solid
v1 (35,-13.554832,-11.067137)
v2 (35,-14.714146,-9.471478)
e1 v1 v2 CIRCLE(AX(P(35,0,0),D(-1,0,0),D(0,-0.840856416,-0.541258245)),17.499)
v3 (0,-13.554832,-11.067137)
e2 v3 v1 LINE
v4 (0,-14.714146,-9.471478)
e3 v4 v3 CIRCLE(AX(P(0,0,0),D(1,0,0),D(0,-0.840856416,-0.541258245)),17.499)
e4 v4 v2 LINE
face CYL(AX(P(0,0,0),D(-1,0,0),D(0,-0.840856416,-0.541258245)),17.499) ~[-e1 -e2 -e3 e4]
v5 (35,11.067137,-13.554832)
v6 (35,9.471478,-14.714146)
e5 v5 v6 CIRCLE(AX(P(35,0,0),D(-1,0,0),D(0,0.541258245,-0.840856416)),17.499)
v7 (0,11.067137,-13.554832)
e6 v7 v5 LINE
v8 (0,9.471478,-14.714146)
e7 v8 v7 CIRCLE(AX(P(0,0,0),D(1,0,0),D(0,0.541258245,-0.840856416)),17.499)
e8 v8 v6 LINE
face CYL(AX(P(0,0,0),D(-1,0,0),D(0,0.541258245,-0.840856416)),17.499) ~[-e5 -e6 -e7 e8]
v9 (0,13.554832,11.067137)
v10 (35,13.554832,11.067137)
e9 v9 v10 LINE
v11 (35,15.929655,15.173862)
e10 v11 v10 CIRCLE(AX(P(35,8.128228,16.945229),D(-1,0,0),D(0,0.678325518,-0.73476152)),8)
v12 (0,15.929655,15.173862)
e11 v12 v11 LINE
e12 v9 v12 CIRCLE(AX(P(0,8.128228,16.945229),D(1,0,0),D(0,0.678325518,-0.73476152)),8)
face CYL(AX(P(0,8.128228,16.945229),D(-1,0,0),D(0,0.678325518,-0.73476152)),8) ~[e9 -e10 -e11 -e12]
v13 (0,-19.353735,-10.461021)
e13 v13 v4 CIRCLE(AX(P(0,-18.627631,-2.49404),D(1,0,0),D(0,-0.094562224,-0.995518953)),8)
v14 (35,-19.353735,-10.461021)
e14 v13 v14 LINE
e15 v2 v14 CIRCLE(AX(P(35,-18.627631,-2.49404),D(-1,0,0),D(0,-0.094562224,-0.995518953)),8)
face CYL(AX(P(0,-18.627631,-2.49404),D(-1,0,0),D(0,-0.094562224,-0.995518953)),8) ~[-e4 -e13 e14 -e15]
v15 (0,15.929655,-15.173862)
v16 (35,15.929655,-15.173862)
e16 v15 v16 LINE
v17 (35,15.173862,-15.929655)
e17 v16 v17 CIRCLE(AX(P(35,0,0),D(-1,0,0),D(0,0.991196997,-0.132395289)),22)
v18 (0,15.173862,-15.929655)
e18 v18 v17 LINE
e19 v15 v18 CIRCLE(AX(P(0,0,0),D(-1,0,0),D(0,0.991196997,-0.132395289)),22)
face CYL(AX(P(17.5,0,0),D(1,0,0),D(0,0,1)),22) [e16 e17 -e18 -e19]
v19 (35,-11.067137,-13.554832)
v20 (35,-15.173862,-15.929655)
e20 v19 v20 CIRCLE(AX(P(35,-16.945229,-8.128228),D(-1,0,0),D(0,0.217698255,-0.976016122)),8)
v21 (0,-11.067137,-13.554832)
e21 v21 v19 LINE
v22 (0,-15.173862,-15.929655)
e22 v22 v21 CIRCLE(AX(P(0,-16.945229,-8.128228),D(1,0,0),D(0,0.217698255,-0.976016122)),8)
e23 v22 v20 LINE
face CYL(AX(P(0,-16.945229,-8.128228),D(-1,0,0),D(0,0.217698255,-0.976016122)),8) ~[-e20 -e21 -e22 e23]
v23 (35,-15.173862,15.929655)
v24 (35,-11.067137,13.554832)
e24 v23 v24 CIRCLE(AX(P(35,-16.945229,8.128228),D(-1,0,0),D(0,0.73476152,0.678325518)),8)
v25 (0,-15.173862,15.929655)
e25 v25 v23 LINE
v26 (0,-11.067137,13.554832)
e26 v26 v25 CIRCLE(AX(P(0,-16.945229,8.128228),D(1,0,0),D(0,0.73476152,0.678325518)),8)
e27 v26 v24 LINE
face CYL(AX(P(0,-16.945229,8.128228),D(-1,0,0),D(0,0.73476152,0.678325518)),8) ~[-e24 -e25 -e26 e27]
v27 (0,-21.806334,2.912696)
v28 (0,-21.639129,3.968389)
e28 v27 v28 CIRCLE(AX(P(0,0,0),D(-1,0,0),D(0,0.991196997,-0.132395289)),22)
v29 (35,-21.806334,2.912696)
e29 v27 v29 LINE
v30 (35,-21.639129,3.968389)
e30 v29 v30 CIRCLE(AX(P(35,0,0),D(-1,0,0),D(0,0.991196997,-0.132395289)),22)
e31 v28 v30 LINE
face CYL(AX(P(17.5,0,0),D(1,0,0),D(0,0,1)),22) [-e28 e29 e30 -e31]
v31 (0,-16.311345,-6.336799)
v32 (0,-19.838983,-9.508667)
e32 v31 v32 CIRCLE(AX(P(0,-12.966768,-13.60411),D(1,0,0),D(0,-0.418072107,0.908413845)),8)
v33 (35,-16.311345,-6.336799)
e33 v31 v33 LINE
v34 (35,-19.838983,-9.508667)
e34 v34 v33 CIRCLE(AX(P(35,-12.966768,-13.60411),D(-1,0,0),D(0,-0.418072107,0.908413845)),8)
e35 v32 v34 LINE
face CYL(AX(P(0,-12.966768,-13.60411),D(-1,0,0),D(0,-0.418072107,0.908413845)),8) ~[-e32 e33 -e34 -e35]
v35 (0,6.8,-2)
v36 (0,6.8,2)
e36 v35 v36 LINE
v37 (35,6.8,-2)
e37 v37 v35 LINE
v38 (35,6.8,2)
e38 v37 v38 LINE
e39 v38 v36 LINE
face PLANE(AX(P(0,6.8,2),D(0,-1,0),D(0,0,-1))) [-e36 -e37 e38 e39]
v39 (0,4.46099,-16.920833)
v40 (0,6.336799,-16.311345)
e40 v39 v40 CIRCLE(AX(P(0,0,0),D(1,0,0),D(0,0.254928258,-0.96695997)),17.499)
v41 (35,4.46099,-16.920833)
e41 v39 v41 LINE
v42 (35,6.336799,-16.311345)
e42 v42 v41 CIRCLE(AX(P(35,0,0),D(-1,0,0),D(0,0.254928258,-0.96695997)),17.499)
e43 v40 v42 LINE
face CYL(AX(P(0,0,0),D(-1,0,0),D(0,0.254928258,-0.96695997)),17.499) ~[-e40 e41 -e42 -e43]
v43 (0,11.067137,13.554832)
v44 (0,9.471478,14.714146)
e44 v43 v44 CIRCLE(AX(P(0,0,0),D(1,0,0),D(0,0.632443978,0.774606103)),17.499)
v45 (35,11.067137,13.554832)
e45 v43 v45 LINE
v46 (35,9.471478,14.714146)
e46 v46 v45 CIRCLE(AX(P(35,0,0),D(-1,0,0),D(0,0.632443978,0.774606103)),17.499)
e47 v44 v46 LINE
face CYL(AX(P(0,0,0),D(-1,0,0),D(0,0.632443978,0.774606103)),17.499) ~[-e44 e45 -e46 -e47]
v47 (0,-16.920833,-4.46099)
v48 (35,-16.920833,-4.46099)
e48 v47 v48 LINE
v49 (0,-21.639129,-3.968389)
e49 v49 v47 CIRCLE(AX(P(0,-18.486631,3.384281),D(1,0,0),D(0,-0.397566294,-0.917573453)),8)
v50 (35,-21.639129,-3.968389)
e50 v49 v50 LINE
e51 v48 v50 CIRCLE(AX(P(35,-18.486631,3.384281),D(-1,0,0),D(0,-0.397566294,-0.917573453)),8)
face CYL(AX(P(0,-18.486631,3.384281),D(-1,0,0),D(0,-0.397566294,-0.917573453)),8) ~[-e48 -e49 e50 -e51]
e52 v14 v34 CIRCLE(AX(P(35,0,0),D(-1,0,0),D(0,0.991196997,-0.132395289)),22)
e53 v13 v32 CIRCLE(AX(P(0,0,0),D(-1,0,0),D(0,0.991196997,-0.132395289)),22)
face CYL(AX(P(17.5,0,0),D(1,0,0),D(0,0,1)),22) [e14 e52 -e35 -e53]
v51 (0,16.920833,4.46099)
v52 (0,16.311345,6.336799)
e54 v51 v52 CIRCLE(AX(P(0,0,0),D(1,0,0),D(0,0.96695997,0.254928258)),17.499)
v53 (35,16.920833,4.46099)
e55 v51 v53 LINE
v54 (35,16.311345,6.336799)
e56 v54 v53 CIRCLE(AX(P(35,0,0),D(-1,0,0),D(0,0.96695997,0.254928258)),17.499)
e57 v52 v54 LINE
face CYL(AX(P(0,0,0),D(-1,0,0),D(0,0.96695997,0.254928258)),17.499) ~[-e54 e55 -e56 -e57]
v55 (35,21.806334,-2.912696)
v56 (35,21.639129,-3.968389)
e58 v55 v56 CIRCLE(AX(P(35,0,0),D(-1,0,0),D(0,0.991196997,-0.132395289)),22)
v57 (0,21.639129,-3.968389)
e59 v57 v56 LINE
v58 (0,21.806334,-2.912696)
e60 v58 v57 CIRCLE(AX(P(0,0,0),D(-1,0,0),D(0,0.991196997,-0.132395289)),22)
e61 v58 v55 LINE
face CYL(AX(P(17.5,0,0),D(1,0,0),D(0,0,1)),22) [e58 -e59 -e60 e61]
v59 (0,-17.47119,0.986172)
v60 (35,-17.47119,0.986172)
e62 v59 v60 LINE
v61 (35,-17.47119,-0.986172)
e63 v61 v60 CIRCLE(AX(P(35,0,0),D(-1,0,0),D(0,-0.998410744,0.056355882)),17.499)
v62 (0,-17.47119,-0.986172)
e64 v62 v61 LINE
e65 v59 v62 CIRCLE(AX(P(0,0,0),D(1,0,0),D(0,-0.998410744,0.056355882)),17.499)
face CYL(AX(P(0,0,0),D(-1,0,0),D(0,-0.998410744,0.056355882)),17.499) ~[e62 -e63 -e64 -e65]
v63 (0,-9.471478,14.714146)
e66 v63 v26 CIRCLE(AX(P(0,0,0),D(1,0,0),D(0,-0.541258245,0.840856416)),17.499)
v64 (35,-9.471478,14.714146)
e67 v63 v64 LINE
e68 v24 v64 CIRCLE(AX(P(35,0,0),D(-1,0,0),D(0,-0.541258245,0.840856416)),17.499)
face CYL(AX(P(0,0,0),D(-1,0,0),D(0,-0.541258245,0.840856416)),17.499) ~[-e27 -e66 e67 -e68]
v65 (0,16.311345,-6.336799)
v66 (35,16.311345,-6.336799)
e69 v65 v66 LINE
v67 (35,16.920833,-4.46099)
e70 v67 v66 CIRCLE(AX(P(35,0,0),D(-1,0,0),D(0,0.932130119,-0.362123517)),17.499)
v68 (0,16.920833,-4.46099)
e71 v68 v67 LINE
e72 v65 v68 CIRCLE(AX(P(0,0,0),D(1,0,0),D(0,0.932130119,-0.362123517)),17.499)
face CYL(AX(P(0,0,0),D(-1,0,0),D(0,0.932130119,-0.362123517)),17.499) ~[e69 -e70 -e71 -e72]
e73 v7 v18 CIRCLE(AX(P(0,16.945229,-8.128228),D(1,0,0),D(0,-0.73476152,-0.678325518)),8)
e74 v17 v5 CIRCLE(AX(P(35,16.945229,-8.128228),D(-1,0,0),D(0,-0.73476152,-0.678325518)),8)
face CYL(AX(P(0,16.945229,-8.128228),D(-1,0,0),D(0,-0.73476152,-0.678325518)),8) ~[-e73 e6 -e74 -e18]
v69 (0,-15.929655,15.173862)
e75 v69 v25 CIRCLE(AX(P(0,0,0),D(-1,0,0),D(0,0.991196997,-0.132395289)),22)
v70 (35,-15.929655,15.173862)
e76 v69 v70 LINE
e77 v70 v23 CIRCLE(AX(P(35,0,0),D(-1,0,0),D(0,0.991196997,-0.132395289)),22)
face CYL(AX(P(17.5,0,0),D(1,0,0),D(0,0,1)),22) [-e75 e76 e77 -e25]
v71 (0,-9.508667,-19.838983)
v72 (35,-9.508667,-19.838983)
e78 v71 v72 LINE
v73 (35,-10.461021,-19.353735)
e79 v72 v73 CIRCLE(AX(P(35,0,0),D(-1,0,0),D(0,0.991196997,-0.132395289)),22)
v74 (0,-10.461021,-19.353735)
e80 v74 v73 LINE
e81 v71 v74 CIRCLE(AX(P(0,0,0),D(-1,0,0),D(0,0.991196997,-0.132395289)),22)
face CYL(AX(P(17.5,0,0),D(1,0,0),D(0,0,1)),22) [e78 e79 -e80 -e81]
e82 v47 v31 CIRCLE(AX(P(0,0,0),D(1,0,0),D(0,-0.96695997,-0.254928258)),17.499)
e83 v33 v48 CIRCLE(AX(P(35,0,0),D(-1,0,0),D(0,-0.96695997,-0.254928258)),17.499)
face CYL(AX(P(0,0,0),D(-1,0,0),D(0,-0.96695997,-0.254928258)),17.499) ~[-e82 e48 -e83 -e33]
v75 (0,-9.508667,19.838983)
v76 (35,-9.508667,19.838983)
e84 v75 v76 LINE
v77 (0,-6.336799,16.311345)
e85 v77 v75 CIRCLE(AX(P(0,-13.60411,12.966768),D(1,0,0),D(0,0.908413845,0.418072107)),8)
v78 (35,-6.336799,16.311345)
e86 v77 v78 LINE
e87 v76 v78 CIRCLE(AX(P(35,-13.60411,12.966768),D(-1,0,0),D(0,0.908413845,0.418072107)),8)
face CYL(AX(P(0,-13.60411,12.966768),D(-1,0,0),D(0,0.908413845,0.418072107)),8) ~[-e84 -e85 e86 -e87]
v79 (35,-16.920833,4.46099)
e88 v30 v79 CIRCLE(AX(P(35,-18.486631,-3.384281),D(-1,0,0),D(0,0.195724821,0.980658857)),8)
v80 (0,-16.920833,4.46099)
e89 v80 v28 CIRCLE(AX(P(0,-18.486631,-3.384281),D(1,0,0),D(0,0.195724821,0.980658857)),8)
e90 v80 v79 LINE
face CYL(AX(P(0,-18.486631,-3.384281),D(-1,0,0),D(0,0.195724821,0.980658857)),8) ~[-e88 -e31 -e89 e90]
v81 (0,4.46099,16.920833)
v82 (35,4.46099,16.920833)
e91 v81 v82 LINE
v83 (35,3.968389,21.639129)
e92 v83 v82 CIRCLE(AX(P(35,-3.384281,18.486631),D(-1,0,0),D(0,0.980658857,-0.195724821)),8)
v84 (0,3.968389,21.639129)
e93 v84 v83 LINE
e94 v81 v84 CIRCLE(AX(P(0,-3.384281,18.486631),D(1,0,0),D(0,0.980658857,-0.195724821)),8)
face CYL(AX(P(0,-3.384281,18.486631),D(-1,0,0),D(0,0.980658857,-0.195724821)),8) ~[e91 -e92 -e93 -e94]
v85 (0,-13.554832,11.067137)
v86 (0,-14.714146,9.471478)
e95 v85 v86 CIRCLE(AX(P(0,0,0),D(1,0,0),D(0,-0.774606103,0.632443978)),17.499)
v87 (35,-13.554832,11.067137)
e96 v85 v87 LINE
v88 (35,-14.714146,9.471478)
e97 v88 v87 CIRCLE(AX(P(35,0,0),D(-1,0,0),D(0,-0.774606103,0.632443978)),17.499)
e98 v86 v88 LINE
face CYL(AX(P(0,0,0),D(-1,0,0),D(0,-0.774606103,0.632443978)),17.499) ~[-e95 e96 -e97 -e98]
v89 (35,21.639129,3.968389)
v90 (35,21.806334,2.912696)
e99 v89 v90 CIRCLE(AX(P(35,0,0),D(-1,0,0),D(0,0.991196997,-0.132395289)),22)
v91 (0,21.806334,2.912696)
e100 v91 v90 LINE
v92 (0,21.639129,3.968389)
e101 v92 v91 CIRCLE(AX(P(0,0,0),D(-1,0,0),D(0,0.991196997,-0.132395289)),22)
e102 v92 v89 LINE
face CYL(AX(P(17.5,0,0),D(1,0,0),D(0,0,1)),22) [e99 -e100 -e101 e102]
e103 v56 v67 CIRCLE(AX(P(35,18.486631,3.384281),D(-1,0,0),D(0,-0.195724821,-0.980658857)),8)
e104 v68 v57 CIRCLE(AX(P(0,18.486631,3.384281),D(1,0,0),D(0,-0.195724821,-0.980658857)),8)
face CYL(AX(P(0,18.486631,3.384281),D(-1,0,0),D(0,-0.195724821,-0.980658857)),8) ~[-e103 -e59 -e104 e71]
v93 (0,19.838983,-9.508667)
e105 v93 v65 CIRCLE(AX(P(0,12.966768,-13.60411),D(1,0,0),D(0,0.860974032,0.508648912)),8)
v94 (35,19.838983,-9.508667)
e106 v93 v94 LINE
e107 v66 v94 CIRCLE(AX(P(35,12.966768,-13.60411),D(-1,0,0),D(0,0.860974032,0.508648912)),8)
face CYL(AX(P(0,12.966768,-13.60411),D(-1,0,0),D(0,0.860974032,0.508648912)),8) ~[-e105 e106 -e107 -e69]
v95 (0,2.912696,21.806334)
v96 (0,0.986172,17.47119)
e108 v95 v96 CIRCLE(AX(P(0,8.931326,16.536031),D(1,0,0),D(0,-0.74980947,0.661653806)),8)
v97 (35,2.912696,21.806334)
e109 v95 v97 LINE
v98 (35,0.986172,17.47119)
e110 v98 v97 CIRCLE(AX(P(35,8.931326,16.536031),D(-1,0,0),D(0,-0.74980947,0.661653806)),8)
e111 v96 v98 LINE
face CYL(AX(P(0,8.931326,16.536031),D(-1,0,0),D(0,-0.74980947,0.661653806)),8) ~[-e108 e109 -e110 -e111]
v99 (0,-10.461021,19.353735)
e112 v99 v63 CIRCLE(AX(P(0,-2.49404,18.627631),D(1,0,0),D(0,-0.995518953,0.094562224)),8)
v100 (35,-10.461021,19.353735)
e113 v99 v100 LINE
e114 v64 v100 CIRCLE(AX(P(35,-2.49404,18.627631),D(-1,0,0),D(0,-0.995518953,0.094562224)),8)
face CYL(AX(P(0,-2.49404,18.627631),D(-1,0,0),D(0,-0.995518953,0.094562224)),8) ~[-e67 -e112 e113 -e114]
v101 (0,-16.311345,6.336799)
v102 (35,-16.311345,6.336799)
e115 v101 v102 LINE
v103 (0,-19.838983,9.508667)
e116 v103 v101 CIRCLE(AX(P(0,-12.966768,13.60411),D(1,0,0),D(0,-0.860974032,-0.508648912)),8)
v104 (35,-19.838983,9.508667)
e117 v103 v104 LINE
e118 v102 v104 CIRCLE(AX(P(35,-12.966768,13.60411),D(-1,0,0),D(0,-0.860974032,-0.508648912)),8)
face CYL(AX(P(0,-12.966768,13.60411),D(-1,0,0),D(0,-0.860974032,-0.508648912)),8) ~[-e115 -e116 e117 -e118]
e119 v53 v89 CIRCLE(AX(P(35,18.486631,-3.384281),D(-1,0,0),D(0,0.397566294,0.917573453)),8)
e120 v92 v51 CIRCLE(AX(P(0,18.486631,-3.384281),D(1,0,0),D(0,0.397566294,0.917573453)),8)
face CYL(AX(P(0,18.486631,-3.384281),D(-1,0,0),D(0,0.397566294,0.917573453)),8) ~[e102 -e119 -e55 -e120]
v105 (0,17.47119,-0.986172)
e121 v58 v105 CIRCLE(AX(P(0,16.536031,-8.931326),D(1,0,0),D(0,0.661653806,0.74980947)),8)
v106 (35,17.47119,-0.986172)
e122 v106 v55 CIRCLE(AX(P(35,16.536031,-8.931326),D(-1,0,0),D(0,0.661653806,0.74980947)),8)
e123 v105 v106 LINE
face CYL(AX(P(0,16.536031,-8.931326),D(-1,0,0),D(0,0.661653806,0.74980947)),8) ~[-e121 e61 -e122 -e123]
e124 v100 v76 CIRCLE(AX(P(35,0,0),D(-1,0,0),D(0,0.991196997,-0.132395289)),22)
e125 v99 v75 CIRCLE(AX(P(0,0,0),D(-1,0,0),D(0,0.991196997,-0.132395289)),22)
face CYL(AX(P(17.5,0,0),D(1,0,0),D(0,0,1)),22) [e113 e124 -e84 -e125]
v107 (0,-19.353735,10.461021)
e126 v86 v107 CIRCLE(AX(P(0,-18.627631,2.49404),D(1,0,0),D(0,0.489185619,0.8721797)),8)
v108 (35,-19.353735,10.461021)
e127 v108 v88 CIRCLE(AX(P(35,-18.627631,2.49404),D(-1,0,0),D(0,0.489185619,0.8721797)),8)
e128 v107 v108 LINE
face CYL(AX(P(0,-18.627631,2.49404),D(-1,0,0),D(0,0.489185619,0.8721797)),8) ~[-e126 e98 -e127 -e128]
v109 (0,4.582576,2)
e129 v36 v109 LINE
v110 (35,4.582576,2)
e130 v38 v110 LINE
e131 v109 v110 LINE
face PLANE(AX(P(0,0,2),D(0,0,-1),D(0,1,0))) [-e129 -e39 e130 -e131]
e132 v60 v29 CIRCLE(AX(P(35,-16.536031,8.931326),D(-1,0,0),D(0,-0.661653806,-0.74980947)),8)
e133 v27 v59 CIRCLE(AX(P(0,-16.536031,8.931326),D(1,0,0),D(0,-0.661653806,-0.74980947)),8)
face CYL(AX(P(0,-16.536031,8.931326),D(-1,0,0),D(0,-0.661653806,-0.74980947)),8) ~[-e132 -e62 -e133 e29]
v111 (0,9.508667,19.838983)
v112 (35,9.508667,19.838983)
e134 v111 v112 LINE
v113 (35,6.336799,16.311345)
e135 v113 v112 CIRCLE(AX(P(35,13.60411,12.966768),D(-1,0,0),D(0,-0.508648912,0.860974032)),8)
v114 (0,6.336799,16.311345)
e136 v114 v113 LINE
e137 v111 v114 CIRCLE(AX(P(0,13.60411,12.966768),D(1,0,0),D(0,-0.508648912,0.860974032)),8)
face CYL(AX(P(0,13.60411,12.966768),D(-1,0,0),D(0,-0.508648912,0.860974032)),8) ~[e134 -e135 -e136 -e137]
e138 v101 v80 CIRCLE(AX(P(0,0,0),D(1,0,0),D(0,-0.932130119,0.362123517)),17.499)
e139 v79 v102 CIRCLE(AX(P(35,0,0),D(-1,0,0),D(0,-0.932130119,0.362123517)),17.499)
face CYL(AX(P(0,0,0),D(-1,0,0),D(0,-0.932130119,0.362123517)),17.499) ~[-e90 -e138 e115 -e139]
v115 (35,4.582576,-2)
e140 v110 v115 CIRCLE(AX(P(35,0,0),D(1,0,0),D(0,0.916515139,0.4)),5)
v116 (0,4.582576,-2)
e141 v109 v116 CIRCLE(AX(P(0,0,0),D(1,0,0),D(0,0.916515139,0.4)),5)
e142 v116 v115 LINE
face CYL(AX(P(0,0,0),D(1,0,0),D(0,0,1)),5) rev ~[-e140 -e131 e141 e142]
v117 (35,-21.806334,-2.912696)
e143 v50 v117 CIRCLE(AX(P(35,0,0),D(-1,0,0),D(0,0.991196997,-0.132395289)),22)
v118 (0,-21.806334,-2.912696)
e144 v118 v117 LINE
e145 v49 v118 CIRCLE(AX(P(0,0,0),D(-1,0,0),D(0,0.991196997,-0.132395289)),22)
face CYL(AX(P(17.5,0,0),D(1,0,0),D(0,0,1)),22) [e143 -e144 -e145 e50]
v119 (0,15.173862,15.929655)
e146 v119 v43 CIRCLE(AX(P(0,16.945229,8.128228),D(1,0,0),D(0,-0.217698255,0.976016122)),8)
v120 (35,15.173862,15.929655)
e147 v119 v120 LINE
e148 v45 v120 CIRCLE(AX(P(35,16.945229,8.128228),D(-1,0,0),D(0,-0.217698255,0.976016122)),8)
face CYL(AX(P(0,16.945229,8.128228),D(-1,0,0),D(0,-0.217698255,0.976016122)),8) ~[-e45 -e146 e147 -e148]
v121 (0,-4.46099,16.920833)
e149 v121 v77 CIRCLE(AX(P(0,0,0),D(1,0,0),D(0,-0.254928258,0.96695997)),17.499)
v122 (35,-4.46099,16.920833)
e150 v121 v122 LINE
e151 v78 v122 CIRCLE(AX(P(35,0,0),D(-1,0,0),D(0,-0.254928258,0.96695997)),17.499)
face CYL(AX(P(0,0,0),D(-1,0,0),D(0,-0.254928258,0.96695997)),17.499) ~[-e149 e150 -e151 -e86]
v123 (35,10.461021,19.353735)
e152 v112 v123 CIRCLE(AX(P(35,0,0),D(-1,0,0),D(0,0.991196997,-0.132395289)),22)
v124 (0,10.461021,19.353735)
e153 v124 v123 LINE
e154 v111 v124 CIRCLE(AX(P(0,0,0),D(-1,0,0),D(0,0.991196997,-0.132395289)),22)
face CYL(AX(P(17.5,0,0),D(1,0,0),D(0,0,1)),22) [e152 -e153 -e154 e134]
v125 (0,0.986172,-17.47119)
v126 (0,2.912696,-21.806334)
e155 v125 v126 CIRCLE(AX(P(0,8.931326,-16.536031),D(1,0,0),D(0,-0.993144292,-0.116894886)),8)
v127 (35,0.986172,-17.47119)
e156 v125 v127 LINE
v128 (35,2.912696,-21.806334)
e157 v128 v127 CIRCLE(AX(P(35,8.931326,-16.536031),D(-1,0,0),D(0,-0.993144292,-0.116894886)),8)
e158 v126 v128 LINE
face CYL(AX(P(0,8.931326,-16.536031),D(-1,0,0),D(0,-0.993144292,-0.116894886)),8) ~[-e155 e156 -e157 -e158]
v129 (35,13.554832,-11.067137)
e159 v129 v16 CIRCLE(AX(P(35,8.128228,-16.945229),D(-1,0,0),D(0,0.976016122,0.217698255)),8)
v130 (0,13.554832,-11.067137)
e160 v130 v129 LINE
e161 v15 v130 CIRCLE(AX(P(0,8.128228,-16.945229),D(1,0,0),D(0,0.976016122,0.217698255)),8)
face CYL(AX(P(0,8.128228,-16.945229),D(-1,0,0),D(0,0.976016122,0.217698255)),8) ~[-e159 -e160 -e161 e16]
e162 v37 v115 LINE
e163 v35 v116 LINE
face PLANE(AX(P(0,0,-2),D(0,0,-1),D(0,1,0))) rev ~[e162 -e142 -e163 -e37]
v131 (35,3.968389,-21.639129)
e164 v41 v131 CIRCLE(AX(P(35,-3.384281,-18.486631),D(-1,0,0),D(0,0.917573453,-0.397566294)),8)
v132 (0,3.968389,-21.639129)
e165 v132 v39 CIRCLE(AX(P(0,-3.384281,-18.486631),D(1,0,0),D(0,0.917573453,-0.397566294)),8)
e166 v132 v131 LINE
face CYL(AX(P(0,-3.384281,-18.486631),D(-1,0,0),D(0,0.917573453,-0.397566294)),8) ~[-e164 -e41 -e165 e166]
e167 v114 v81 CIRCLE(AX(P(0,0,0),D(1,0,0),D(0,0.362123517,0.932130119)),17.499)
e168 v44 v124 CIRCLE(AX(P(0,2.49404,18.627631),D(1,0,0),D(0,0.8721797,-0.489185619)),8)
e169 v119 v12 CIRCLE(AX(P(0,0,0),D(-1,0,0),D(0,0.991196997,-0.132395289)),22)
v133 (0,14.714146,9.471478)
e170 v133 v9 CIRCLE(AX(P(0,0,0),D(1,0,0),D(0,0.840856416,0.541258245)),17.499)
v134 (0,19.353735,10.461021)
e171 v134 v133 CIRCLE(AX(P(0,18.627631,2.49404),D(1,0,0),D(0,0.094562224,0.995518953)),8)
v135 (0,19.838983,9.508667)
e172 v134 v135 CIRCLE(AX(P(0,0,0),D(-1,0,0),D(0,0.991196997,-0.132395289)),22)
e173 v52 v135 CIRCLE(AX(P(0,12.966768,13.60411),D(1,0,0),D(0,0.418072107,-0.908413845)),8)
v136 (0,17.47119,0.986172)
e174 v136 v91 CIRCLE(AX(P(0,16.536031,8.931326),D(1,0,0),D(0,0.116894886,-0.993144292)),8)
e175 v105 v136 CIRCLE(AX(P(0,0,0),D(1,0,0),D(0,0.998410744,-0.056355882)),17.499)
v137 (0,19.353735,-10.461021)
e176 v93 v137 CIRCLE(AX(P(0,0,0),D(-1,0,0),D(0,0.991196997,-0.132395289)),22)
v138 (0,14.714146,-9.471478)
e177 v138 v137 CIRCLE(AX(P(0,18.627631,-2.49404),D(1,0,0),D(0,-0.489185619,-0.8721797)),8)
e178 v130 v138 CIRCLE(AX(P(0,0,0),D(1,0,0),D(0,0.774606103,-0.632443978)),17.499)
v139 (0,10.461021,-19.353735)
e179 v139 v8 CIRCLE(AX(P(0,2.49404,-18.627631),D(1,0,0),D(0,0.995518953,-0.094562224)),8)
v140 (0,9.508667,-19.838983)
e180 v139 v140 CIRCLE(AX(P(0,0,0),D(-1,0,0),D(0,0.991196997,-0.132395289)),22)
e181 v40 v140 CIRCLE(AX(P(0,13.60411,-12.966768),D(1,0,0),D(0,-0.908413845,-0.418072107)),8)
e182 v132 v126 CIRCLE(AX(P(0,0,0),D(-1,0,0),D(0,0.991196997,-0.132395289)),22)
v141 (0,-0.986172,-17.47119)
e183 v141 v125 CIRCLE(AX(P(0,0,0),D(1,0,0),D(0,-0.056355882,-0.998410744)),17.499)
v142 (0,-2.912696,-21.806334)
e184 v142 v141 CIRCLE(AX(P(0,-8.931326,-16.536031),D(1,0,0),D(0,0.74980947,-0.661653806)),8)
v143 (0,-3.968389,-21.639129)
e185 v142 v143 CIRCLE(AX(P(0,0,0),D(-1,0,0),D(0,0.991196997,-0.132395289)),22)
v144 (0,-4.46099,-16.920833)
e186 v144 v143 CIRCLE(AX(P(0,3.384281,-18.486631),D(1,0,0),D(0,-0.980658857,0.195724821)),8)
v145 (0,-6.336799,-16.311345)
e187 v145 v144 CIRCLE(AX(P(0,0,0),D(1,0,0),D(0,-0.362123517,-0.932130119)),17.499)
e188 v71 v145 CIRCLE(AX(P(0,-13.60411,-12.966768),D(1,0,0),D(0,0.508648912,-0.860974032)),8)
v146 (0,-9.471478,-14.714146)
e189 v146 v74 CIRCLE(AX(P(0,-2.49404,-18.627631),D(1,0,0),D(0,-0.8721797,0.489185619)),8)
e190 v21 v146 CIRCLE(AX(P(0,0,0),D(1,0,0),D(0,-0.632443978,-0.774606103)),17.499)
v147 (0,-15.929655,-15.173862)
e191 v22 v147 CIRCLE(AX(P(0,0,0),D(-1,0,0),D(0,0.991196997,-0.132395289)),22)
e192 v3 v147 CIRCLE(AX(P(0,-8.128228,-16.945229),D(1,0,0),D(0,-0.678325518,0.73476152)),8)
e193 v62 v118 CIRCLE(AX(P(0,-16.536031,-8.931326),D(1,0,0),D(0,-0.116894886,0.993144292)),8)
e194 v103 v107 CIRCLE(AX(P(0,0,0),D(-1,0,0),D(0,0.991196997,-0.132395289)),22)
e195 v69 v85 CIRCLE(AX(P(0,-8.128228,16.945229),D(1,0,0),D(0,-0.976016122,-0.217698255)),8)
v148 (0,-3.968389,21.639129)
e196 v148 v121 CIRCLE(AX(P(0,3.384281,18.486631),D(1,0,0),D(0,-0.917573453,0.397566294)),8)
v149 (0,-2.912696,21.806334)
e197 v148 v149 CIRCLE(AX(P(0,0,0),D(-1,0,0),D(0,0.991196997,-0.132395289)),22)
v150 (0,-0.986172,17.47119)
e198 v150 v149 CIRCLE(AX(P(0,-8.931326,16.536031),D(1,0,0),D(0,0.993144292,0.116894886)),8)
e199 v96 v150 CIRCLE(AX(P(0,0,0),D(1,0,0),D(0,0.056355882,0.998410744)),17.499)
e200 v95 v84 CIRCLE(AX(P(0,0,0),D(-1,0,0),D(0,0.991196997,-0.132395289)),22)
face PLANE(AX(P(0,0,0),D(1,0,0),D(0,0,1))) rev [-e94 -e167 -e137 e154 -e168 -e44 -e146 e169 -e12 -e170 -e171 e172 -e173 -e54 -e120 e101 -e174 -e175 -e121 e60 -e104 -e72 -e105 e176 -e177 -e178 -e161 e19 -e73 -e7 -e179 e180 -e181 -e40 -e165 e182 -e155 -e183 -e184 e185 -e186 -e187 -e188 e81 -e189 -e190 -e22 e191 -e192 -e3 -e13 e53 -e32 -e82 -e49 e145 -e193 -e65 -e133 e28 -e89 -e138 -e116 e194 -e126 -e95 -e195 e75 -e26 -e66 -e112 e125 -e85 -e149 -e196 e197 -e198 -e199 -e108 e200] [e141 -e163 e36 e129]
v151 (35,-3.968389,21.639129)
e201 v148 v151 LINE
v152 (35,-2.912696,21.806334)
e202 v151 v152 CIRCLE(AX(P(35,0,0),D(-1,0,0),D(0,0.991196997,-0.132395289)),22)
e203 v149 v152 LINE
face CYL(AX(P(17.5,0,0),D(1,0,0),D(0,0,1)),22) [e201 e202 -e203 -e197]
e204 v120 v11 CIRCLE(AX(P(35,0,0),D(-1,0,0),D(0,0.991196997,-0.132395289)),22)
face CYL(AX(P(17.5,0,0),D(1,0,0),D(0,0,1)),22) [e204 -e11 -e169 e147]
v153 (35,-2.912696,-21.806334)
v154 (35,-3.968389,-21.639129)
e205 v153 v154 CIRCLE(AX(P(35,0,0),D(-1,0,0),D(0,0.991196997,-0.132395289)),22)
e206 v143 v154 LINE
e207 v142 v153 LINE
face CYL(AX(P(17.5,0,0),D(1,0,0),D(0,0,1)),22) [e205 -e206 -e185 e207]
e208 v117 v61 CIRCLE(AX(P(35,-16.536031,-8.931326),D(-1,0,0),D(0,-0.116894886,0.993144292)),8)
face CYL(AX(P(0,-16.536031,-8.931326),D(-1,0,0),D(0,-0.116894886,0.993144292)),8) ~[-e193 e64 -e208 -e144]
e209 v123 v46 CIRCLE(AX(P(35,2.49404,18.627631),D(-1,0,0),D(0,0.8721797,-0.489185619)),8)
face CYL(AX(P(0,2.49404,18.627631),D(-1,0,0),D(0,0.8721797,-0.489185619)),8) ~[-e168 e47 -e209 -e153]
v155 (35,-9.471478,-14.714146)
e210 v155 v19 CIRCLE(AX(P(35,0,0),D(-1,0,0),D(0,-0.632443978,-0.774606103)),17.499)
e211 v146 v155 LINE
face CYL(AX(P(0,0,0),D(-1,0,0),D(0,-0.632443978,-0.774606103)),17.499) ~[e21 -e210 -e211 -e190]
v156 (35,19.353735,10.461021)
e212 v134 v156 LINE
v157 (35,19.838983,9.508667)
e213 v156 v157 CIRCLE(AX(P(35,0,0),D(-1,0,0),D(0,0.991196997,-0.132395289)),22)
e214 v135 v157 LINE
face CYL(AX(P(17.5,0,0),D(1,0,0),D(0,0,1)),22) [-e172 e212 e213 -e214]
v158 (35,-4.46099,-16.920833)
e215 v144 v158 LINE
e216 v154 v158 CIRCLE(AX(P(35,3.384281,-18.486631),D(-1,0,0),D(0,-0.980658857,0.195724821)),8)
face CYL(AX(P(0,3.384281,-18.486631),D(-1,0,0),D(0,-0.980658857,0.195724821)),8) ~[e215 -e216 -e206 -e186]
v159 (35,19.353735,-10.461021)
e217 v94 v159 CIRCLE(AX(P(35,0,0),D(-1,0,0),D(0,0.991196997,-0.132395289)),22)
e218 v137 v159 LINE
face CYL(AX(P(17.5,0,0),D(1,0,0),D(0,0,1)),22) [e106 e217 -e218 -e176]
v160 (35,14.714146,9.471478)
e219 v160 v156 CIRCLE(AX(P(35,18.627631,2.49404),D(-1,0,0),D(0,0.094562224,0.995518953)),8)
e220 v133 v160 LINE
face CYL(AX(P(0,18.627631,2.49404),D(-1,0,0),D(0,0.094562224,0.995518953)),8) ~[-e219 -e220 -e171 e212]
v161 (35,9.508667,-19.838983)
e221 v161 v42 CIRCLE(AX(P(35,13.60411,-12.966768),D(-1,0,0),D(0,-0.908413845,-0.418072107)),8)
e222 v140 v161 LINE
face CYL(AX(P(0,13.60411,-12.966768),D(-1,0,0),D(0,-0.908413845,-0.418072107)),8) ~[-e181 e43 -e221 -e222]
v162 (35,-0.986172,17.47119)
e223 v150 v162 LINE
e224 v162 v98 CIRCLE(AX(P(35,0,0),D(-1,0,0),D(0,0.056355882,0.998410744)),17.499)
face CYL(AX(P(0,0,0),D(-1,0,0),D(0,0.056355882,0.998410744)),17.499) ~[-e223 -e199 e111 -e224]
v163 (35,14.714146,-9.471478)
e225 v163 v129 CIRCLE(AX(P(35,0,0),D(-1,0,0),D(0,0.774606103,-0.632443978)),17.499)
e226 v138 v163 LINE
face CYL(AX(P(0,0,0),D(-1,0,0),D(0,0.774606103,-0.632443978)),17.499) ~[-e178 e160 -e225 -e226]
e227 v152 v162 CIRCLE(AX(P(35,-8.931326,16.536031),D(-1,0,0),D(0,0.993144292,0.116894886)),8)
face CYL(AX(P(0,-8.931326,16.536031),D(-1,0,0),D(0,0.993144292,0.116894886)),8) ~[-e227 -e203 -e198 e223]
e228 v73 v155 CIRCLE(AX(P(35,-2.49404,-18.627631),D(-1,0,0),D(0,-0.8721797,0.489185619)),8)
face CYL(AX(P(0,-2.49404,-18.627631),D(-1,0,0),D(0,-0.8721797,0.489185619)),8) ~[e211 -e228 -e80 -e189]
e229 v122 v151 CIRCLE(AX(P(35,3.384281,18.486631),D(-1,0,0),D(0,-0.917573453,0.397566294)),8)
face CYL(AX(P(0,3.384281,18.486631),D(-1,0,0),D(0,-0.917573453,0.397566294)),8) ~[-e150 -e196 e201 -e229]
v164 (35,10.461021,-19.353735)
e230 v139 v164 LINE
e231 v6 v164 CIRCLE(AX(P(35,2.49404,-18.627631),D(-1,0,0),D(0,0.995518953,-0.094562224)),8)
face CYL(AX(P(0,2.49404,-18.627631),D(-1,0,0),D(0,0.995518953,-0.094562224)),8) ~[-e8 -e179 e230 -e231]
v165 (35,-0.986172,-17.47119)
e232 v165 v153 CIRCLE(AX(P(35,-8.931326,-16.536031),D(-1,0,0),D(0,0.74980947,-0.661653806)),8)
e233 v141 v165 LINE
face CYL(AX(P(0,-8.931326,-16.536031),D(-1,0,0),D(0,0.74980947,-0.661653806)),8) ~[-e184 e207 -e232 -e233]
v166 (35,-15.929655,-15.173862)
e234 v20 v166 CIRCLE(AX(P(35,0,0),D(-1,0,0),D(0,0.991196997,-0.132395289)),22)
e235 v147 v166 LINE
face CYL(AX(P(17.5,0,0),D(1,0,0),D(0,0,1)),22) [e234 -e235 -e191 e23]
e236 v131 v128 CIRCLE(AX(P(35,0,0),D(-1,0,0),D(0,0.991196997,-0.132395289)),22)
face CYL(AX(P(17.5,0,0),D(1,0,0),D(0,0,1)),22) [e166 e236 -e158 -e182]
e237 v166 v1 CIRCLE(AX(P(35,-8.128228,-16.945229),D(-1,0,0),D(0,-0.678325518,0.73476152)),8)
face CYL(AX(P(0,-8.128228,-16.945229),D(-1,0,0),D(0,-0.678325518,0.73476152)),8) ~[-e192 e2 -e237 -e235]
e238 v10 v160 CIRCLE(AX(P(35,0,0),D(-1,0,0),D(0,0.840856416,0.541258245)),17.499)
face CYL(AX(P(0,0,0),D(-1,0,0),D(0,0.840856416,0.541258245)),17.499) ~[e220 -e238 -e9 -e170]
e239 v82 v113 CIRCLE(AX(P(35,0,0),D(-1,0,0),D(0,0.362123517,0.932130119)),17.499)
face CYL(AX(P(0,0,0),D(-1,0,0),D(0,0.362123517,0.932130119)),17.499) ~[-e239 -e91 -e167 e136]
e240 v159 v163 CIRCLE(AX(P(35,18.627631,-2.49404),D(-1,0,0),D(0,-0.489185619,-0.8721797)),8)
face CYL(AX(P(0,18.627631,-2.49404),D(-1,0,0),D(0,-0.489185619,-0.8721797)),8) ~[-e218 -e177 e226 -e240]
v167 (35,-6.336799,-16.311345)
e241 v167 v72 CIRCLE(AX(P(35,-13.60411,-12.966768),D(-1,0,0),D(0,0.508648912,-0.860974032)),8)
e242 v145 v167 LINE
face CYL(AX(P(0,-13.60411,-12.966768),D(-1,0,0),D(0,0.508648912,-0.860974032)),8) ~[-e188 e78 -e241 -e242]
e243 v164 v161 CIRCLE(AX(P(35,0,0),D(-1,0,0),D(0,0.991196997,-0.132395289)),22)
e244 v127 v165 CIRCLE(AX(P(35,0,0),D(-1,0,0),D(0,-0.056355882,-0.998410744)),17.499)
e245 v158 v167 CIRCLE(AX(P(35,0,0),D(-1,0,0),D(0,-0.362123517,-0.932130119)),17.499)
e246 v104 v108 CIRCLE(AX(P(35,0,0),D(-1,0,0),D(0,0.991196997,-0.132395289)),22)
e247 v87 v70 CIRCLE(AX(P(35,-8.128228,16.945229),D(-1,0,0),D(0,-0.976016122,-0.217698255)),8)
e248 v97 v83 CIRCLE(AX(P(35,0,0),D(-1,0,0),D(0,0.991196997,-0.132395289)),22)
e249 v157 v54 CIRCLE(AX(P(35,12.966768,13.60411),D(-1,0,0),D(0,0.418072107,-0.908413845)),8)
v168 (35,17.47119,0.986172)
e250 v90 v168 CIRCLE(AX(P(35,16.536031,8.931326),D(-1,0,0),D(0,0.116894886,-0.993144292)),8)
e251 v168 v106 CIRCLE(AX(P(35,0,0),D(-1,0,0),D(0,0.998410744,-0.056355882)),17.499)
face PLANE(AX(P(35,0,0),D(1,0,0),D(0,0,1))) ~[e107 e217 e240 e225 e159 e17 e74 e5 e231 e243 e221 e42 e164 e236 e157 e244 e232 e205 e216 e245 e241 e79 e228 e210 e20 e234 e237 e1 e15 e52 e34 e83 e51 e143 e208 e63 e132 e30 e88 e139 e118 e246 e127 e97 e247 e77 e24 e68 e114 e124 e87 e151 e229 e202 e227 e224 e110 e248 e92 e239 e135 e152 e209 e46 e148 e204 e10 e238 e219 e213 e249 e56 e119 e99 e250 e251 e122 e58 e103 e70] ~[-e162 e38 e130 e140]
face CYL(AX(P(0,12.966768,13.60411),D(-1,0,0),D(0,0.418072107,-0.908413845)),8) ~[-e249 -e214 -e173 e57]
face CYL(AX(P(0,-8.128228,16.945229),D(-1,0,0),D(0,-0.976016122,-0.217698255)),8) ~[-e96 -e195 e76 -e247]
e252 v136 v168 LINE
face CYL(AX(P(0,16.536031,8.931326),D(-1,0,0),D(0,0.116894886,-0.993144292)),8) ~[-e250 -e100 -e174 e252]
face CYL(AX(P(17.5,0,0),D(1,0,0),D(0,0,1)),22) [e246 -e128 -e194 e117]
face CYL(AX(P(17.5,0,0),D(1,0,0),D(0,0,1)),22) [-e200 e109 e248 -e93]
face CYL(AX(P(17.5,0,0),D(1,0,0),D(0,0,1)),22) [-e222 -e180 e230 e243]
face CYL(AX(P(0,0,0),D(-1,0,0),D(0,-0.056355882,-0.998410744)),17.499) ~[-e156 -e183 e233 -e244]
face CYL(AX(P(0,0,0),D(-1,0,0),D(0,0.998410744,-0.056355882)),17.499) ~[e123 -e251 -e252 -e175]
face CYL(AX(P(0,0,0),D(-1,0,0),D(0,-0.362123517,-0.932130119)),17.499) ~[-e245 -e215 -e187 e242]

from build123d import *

# Parameters (mm, degrees)
BASPROSKE_W     = 35
BASPROSKE_H     = 22
TOOTHCUT_DEPTH  = 47.829477896
TEETHCUTS_COUNT = 20
TEETHCUTS_ANGLE = 342
BORSKE_R        = 5
BORE_DEPTH      = 50.0000508
KEYSKE_W        = 4
KEYSKE_H        = 6.8
KEYWAY_DEPTH    = 50.0000508


with BuildPart() as part:
    # BasProSke → Base-Revolve (revolve)
    with BuildSketch(Plane(origin=(0, 0, 0), x_dir=(1, 0, 0), z_dir=(0, 1, 0)), mode=Mode.PRIVATE) as base_revolve_sk:
        with Locations((17.5, 11)):
            Rectangle(BASPROSKE_W, BASPROSKE_H)
    revolve(base_revolve_sk.sketch.rotate(Axis((-10, 0, 0), (1, 0, 0)), 180), axis=Axis((-10, 0, 0), (1, 0, 0)))

    # TooCutSke → ToothCut (cut, through all)
    with BuildSketch(Plane(origin=(0, 0, 0), x_dir=(0, 0, -1), z_dir=(1, 0, 0))):
        with BuildLine():
            ThreePointArc((0.986171591, 17.471189616), (0, 17.499), (-0.986171591, 17.471189616))
            ThreePointArc((-0.986171591, 17.471189616), (-1.626916196, 19.798789858), (-2.932850173, 21.829260982))
            ThreePointArc((-2.932850173, 21.829260982), (0, 22.0254), (2.932850173, 21.829260982))
            ThreePointArc((2.932850173, 21.829260982), (1.626916196, 19.798789858), (0.986171591, 17.471189616))
        make_face()
    toothcut = extrude(amount=TOOTHCUT_DEPTH, mode=Mode.SUBTRACT)

    # TeethCuts: ToothCut ×20 about axis
    teethcuts_axis = Axis((-10, 0, 0), (1, 0, 0))
    for i in range(1, TEETHCUTS_COUNT):
        add(toothcut.rotate(teethcuts_axis, i * TEETHCUTS_ANGLE / (TEETHCUTS_COUNT - 1)), mode=Mode.SUBTRACT)

    # BorSke → Bore (cut, symmetric)
    with BuildSketch(Plane(origin=(0, 0, 0), x_dir=(0, 0, -1), z_dir=(1, 0, 0))):
        with Locations(Location((0, 0, 0), (0, 0, 180))):
            Circle(BORSKE_R)
    extrude(amount=BORE_DEPTH, both=True, mode=Mode.SUBTRACT)

    # KeySke → Keyway (cut, symmetric)
    with BuildSketch(Plane(origin=(0, 0, 0), x_dir=(0, 0, -1), z_dir=(1, 0, 0))):
        with Locations((0, 3.4)):
            Rectangle(KEYSKE_W, KEYSKE_H)
    extrude(amount=KEYWAY_DEPTH, both=True, mode=Mode.SUBTRACT)


solid = part.part
